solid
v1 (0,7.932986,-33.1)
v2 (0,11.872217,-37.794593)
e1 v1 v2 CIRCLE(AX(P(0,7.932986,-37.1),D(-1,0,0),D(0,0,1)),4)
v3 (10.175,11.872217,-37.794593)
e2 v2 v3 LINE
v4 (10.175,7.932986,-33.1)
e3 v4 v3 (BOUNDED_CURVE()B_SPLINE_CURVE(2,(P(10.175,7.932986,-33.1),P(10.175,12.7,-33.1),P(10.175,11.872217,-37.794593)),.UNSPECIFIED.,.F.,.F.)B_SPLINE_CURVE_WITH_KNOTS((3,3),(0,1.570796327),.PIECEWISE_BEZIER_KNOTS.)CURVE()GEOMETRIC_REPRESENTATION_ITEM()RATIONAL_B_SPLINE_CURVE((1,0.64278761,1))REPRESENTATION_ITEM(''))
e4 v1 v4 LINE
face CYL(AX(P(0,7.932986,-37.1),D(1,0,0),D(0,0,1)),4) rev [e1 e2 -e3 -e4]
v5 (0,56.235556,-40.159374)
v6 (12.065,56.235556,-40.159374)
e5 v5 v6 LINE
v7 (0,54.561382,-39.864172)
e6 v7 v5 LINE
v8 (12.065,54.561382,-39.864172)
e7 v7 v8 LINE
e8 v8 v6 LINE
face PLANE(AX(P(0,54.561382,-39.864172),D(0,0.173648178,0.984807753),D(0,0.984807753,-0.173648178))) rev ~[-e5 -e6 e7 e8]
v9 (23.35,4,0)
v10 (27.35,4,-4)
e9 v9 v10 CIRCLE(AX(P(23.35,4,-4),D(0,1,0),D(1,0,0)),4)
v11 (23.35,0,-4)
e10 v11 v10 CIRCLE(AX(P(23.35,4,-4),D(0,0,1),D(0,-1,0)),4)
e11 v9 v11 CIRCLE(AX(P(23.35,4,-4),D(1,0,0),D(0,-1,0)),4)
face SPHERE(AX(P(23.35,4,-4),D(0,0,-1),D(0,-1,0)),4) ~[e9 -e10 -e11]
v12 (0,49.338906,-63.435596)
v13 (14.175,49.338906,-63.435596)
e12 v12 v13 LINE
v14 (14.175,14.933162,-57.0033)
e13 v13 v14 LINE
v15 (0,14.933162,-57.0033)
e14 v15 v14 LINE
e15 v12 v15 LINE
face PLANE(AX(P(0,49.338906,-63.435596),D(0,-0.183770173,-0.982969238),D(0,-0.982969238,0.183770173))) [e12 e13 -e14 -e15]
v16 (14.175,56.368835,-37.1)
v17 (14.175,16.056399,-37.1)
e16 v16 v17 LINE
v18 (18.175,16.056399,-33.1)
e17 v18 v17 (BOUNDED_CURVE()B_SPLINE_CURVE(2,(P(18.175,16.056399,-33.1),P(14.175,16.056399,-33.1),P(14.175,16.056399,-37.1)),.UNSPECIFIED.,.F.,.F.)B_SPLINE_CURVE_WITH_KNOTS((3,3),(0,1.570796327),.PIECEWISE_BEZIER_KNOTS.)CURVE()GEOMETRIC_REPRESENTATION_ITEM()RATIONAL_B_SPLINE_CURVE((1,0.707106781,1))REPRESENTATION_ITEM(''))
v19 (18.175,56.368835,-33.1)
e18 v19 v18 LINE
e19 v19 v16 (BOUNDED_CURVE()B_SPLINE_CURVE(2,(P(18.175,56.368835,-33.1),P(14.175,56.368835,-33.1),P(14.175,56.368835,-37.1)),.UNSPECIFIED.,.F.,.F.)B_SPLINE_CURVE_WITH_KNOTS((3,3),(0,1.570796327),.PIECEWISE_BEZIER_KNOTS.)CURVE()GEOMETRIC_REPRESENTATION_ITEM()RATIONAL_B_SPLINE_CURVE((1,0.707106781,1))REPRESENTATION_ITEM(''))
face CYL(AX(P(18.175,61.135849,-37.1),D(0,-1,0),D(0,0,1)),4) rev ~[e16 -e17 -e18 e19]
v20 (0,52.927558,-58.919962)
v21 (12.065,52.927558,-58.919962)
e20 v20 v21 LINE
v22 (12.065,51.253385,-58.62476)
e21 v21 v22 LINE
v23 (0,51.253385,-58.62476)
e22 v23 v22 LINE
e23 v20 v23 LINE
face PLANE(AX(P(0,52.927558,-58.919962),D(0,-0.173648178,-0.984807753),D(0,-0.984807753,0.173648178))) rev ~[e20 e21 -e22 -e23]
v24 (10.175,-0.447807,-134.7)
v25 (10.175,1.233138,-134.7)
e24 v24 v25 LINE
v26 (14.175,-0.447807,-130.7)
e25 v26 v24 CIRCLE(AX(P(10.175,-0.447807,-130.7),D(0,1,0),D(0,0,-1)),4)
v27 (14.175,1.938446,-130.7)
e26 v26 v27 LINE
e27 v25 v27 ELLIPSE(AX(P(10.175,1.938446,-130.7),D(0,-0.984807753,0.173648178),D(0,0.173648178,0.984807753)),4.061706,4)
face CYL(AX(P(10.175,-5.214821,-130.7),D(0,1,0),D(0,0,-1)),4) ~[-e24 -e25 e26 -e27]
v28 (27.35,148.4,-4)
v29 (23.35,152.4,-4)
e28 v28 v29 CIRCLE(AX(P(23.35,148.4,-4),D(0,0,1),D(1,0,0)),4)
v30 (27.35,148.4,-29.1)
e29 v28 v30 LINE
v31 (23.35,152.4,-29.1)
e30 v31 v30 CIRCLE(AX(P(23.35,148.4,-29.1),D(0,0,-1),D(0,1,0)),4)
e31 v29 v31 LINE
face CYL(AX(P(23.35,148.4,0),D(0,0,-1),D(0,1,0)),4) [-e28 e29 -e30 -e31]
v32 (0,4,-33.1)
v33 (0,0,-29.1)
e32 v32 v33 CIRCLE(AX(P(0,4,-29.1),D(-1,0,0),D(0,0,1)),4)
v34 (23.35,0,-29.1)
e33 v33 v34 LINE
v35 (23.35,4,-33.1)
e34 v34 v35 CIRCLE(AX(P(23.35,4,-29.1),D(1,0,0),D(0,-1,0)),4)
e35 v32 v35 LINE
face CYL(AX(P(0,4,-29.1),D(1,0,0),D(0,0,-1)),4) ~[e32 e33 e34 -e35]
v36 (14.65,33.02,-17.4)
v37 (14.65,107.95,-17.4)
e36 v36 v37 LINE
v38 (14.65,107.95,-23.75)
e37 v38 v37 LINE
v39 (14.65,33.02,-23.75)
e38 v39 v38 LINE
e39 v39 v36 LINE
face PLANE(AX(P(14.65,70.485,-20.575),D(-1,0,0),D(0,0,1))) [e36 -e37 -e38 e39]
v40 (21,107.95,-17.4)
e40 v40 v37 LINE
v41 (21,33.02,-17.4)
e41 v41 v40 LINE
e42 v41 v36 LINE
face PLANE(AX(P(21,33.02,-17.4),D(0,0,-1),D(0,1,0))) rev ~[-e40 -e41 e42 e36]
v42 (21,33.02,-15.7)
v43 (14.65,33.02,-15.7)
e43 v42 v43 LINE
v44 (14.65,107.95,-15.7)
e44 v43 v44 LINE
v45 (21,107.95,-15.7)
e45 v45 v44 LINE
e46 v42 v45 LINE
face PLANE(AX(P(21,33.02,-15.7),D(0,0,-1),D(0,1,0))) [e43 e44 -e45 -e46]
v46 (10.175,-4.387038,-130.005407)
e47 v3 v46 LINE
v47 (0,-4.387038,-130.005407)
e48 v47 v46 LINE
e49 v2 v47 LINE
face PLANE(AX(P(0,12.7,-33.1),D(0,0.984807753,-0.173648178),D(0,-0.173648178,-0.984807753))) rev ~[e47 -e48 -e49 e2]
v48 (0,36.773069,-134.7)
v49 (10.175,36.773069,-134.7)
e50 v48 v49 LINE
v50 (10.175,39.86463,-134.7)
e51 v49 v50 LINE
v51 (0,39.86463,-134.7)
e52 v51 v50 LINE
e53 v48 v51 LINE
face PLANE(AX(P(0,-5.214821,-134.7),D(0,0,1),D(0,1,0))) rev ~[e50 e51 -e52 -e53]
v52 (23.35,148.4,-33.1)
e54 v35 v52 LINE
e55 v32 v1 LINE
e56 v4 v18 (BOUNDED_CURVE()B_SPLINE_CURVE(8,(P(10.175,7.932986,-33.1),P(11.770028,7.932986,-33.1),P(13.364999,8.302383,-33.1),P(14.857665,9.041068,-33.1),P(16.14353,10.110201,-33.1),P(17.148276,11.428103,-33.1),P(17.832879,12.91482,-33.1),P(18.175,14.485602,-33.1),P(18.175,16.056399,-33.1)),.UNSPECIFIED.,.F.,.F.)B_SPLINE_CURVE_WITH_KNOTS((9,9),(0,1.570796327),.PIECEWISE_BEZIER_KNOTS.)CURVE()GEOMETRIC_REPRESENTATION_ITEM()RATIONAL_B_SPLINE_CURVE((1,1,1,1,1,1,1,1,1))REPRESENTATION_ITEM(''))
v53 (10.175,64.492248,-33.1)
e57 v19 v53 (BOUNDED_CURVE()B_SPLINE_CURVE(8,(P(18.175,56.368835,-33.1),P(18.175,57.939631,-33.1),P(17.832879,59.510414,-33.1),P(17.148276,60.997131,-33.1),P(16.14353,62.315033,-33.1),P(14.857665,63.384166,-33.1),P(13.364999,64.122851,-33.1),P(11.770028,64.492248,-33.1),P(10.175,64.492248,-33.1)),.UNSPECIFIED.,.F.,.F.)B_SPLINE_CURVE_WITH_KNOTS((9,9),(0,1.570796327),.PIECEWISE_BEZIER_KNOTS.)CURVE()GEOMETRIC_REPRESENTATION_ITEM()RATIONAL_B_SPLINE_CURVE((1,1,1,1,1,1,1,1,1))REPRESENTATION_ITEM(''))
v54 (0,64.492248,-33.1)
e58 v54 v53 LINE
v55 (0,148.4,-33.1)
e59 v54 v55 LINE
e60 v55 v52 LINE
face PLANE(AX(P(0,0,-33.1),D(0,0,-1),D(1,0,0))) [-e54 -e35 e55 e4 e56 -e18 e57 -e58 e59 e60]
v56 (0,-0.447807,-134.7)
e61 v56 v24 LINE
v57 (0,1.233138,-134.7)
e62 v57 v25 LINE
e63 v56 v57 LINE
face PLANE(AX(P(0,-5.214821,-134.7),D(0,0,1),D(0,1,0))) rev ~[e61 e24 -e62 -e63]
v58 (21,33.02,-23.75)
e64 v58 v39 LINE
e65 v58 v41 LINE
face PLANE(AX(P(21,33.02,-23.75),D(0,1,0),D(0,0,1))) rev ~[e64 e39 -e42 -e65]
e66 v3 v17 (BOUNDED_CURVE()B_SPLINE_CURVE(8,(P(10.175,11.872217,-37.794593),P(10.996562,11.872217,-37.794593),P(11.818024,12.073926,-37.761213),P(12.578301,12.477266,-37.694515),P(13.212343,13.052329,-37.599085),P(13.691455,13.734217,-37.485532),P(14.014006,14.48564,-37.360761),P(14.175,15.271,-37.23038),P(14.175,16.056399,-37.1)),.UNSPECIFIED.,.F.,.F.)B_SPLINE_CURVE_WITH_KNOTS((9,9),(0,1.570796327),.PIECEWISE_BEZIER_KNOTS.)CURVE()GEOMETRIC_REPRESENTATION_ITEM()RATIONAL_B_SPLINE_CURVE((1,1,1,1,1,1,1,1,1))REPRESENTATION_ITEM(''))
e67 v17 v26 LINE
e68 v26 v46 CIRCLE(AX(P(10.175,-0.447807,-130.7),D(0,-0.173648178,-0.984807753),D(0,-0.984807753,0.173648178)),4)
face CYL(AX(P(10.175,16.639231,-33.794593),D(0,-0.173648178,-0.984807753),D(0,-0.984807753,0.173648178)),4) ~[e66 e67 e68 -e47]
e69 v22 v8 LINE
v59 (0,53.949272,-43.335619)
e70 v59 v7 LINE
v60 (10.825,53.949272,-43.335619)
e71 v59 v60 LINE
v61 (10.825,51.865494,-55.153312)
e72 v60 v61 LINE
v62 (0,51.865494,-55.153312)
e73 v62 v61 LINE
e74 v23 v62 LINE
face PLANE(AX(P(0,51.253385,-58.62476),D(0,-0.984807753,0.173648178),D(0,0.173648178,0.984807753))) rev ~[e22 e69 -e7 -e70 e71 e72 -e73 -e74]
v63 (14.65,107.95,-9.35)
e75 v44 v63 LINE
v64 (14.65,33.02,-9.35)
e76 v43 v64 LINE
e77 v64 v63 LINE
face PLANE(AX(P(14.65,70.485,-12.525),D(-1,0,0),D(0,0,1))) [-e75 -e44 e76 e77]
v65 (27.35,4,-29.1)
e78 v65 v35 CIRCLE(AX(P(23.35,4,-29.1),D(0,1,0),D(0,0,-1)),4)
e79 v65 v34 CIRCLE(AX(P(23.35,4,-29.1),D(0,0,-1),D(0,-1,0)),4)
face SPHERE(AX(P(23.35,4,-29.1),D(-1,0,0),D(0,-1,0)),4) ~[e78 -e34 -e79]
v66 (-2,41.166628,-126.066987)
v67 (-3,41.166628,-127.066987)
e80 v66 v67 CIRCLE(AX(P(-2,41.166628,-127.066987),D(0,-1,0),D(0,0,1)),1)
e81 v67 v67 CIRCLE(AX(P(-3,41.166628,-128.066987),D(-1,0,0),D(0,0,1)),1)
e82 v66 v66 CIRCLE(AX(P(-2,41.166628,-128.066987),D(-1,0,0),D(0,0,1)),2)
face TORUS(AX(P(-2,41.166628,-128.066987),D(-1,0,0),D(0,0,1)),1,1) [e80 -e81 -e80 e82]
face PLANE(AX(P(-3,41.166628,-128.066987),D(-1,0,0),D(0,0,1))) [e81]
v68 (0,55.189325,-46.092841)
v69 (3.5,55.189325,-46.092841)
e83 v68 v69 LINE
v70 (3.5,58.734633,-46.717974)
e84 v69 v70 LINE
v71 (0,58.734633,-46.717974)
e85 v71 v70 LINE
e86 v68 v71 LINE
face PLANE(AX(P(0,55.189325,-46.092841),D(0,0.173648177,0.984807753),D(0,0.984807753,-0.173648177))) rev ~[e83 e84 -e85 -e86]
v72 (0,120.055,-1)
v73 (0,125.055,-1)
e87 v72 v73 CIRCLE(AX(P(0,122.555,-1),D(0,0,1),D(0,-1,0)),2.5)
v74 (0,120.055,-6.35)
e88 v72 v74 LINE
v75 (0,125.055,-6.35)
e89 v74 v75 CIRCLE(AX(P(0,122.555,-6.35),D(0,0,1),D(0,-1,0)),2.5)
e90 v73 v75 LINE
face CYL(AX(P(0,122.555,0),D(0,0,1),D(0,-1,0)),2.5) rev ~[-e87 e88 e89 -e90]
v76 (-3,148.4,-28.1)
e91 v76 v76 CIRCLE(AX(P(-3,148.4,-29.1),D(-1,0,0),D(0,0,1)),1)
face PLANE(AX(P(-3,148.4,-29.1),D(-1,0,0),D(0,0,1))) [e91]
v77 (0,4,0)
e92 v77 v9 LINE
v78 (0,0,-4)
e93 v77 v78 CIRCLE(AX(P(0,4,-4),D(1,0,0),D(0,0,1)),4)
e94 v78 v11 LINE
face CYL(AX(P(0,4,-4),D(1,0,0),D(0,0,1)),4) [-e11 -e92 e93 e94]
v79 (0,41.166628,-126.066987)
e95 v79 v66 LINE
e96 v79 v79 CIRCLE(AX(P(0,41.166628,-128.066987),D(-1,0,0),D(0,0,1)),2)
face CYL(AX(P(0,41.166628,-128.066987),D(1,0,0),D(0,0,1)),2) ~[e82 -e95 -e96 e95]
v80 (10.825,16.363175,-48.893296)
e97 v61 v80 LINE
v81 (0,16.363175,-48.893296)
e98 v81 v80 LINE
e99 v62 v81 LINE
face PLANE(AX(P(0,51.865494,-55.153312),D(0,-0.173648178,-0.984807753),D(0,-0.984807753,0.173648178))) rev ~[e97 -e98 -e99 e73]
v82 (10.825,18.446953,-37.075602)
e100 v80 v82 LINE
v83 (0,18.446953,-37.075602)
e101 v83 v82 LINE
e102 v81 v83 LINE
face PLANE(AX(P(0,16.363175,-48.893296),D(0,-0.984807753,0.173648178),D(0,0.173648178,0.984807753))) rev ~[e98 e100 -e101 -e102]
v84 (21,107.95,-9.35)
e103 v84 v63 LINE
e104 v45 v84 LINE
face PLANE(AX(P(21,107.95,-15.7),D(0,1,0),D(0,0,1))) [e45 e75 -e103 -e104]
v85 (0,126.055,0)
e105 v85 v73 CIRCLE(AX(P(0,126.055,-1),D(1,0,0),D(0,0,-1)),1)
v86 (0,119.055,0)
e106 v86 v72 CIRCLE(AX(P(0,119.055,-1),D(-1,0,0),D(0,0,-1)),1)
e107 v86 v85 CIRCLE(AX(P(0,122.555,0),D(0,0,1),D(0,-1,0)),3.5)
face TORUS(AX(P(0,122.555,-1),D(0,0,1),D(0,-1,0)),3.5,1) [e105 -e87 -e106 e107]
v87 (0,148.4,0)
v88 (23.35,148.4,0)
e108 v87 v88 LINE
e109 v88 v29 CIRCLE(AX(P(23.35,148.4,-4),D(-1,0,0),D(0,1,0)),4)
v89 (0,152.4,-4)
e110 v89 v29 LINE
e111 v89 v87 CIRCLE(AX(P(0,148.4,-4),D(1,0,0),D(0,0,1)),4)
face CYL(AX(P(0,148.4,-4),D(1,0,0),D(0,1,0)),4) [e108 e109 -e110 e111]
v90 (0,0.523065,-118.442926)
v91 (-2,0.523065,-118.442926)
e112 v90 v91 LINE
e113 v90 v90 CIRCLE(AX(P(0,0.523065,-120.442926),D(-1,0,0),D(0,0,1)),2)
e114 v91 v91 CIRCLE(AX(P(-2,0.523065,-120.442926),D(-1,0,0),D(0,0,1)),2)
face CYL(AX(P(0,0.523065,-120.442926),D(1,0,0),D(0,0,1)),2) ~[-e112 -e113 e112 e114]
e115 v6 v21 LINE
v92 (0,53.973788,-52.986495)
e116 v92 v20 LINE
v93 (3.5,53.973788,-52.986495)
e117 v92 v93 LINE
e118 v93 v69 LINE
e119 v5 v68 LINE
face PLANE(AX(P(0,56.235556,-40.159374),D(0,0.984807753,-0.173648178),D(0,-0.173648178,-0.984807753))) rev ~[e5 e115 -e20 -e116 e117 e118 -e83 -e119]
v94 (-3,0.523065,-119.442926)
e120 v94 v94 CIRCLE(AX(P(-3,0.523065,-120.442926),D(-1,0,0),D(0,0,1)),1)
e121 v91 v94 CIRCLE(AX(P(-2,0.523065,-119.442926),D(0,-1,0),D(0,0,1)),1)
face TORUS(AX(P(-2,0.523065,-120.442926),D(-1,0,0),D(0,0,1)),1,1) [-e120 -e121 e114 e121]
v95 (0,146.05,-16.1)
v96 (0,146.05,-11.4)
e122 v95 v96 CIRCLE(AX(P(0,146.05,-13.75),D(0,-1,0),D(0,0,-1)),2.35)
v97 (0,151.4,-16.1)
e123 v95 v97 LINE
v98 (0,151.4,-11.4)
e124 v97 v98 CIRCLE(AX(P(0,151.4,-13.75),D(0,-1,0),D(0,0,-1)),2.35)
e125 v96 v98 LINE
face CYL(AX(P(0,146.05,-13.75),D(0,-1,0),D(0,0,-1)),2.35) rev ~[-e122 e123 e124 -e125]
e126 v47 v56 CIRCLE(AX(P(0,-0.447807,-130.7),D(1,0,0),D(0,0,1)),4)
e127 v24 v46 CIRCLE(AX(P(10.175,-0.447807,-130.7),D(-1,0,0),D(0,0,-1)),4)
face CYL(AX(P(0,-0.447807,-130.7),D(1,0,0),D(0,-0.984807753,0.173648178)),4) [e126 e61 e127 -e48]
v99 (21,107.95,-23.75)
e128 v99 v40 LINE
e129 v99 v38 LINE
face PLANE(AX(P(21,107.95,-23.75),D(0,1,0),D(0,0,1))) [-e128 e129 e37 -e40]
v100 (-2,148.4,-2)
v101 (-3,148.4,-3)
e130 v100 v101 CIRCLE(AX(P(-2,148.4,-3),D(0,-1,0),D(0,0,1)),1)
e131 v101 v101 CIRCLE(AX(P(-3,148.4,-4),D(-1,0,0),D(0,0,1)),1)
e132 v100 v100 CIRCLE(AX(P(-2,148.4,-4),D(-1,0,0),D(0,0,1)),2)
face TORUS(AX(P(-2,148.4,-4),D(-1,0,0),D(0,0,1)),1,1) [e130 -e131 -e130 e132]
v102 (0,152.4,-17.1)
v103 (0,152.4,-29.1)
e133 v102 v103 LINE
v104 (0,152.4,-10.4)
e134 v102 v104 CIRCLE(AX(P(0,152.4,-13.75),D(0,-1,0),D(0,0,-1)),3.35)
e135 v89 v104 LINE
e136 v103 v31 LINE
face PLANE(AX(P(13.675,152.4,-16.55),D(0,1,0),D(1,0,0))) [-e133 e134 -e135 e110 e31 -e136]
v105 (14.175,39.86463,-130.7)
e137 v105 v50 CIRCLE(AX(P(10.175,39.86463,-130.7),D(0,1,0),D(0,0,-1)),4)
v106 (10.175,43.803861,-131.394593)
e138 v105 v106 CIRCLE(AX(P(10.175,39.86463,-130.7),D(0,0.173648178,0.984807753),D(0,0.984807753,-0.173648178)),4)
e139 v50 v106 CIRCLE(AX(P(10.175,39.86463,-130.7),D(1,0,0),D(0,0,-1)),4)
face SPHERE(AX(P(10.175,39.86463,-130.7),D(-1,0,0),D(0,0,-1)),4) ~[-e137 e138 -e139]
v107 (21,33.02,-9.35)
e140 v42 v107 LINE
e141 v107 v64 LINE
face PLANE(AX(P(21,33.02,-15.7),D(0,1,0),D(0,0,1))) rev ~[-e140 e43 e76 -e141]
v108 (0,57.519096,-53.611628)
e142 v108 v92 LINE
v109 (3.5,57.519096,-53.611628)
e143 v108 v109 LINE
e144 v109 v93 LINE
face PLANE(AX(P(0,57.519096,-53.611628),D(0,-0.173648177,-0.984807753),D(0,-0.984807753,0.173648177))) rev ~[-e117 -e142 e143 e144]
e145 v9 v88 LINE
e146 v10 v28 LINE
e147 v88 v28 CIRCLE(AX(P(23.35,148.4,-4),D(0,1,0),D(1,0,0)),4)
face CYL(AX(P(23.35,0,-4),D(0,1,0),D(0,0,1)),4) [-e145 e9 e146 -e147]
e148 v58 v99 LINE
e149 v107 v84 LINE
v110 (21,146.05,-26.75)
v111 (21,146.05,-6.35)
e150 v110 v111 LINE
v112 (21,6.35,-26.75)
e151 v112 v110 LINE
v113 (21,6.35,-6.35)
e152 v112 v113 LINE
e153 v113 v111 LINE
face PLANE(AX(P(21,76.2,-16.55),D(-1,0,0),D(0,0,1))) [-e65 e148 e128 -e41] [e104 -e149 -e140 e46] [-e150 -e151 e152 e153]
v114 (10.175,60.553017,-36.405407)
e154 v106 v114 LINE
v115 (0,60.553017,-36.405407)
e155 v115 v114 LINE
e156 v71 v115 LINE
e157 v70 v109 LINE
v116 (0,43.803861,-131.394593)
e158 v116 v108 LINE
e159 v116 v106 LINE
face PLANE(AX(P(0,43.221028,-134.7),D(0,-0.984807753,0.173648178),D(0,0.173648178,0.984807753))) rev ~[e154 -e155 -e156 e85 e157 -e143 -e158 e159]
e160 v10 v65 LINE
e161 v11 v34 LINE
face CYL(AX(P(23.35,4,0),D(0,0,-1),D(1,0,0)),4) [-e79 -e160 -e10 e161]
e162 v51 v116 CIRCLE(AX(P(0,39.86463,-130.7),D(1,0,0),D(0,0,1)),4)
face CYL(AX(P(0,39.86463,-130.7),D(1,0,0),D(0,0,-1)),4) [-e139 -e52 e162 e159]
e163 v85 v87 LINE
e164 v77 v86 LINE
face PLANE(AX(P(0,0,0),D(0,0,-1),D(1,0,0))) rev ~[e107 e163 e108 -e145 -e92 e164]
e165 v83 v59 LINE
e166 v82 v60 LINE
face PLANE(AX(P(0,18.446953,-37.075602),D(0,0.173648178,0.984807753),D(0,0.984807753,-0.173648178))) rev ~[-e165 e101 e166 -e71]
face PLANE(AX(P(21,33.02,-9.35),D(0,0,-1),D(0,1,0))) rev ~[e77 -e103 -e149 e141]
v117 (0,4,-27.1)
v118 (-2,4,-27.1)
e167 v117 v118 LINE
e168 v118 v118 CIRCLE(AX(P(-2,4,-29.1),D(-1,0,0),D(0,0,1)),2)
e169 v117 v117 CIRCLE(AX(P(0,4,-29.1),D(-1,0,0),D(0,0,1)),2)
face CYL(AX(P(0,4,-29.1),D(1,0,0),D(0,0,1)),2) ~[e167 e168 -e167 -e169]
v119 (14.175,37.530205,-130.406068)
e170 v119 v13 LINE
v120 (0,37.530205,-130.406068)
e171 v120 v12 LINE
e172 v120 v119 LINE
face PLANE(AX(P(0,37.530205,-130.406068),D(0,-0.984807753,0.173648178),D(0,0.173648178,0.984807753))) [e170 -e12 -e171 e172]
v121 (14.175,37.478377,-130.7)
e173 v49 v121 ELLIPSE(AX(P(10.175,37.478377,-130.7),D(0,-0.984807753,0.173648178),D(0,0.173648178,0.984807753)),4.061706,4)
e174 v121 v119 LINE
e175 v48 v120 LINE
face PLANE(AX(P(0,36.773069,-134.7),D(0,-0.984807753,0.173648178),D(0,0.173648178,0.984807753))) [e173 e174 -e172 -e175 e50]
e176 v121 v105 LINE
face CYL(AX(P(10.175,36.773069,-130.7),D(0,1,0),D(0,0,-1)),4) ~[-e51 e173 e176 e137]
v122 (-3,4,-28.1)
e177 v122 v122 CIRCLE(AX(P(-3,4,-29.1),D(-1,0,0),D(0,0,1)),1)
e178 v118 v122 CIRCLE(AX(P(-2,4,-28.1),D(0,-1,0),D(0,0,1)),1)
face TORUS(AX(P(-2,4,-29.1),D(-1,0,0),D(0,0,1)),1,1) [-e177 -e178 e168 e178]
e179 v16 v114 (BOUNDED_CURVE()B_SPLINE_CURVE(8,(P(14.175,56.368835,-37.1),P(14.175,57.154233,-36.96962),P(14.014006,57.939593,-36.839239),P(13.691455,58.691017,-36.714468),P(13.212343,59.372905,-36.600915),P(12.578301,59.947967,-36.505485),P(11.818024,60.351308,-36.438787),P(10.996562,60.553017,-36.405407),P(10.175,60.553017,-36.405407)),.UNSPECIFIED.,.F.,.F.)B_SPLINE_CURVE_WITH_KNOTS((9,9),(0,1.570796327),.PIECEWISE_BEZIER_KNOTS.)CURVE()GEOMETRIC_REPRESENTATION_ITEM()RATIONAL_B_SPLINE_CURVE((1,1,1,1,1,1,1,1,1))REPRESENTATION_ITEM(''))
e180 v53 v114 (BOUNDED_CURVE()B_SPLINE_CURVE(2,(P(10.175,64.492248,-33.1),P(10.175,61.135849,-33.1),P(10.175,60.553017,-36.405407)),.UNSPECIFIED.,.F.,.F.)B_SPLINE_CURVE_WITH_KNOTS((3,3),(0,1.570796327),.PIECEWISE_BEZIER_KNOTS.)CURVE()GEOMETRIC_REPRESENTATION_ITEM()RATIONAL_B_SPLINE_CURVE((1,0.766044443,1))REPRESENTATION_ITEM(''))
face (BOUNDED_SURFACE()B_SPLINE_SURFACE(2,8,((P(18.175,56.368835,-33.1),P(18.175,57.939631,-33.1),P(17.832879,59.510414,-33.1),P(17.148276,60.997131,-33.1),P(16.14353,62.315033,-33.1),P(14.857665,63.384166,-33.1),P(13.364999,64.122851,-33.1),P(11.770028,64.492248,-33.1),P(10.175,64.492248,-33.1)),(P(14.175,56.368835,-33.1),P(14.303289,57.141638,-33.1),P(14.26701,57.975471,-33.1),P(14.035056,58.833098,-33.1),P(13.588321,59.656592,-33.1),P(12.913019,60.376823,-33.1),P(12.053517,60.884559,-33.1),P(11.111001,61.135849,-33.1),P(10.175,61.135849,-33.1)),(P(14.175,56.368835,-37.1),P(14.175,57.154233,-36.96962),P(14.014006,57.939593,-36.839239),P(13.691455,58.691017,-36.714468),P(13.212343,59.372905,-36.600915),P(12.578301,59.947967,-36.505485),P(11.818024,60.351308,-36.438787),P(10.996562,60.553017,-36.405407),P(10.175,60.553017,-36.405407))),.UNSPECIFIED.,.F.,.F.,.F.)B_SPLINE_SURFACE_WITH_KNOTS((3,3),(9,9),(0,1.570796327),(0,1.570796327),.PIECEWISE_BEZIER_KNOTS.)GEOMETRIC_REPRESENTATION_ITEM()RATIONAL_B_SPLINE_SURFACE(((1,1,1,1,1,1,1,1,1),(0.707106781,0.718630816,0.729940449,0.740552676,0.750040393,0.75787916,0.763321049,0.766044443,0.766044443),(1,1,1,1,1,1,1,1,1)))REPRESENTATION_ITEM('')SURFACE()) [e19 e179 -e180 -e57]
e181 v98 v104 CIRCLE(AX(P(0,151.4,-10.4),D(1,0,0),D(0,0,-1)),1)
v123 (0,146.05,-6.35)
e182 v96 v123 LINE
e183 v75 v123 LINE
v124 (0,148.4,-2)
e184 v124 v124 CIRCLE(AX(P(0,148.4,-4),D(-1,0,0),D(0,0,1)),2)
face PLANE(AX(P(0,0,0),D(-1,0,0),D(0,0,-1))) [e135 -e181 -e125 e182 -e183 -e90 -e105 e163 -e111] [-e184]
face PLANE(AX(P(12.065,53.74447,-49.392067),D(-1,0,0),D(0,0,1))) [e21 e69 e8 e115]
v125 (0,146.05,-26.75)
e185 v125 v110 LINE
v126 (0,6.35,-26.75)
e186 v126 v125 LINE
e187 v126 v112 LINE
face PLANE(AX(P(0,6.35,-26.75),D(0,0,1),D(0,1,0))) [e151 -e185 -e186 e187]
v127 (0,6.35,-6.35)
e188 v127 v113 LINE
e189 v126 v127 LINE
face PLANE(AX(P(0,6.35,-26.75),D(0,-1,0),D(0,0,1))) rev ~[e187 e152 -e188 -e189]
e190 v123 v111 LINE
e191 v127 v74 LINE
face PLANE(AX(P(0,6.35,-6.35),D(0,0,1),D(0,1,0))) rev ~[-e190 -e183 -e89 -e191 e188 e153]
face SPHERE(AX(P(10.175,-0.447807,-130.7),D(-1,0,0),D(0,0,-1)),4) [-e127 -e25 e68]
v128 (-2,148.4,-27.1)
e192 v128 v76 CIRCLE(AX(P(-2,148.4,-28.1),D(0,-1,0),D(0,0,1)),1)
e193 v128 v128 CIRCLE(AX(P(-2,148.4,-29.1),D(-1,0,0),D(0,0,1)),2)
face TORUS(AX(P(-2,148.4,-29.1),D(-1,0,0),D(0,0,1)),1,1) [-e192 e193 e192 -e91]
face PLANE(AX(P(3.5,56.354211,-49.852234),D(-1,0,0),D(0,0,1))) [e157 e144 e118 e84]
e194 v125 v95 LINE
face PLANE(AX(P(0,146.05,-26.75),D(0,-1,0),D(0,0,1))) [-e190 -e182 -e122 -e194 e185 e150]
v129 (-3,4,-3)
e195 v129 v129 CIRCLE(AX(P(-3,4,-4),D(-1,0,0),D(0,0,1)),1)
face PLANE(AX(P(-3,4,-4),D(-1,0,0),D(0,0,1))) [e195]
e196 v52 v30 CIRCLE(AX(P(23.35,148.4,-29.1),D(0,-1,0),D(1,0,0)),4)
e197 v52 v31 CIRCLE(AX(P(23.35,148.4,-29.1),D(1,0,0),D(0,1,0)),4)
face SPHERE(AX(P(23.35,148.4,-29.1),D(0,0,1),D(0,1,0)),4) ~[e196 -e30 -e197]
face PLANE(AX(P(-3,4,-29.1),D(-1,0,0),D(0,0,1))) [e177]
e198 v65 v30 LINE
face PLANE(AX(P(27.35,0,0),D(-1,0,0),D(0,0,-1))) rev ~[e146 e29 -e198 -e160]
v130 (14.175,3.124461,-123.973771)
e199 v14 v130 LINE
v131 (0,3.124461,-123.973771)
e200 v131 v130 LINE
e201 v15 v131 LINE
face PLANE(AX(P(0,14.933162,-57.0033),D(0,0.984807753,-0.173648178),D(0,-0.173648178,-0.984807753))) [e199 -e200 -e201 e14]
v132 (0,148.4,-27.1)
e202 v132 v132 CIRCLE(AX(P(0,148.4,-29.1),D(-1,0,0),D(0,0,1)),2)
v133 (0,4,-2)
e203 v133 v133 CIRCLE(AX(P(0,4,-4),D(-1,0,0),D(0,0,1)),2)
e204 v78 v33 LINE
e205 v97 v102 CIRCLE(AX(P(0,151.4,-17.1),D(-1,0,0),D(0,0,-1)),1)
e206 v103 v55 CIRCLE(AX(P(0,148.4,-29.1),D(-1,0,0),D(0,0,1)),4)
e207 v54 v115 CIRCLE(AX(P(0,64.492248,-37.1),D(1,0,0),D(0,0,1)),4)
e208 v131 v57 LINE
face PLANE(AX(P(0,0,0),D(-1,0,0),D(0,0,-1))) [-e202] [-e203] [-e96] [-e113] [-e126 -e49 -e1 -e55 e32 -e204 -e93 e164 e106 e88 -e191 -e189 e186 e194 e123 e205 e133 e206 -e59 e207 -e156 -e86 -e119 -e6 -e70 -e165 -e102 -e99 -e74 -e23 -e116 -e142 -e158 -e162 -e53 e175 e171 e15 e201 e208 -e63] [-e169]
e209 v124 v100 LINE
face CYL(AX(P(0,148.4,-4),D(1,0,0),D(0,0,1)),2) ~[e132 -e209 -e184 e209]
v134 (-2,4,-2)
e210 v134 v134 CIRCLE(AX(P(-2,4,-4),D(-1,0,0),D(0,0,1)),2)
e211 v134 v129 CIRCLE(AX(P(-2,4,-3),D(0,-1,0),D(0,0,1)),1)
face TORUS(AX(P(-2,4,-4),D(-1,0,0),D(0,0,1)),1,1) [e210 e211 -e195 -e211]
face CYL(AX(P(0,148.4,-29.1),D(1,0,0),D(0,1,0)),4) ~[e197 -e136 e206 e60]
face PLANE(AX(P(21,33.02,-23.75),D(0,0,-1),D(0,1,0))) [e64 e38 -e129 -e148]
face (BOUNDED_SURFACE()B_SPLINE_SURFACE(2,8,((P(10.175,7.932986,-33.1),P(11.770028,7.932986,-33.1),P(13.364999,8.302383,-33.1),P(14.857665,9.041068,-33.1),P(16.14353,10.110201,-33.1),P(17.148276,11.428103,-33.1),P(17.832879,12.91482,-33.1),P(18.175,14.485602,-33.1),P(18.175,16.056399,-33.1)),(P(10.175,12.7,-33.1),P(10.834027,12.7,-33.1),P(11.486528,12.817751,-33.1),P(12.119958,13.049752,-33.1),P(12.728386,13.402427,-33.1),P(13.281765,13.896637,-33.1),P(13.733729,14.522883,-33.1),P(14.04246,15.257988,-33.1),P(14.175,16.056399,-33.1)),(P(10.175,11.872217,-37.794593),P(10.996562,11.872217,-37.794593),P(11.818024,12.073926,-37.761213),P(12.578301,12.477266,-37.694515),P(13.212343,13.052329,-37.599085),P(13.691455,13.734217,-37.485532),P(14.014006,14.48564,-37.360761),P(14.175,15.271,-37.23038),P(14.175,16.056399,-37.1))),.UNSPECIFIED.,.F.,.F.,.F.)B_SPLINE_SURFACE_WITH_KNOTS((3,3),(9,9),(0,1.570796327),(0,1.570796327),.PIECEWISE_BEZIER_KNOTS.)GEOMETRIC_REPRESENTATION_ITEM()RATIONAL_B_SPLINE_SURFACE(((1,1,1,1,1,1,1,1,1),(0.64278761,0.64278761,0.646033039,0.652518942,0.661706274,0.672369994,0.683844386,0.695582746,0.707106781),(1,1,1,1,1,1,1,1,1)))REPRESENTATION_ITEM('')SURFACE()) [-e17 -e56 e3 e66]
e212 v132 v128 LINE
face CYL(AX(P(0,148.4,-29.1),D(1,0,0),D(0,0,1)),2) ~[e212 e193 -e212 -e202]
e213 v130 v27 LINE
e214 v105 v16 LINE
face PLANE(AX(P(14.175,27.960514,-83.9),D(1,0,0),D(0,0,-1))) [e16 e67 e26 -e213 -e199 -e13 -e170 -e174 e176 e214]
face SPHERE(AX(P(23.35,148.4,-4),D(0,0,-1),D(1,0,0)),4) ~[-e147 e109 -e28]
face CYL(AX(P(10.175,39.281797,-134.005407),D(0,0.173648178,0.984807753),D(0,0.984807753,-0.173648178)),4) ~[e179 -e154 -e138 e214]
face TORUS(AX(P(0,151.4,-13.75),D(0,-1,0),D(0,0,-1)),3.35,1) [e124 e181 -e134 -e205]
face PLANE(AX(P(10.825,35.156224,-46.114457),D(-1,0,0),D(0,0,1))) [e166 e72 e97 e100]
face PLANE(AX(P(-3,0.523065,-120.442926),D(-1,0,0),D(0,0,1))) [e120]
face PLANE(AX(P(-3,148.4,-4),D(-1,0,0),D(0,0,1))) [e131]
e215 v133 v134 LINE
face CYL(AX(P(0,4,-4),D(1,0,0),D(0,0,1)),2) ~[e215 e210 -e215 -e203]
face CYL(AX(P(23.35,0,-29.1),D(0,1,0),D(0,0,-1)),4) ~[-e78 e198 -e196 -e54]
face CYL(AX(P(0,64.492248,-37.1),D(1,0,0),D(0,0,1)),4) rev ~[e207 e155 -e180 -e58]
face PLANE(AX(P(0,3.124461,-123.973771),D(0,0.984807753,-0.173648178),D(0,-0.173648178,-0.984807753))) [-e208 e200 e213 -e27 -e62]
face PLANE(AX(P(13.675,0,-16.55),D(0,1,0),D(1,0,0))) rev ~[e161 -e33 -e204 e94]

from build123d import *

# Parameters (mm, degrees)
SKETCH1_W                = 27.35
SKETCH1_H                = 33.1
BOSS_EXTRUDE1_DEPTH      = 152.4
SKETCH2_W                = 20.4
SKETCH2_H                = 139.7
CUT_EXTRUDE1_DEPTH       = 21
HITLED_REACH             = 35.1
SKETCH6_W                = 6.35
SKETCH6_H                = 74.93
PCB_DEPTH                = 6.35
SKETCH16_R               = 2
PRESSFIT_DEPTH           = 3
FILLET_PRESSFIT_R        = 1
BUTT_DEPTH               = 14.175
BATTERYPACK_DEPTH        = 14.175
SKETCH22_R               = 2
PRESSFIT_BOTTOM_DEPTH    = 3
IRLED_REACH              = 8.35
FILLET_BODY_R            = 4
FILLET_PRESSFIT_BOTTOM_R = 1
FILLET_LED_S_R           = 1
CUT_EXTRUDE2_DEPTH       = 3.5
CUT_EXTRUDE3_DEPTH       = 12.065
CUT_EXTRUDE4_DEPTH       = 10.825


with BuildPart() as part:
    # Sketch1 → Boss-Extrude1 (new body)
    with BuildSketch(Plane(origin=(0, 0, 0), x_dir=(1, 0, 0), z_dir=(0, 1, 0))):
        with Locations((13.675, 16.55)):
            Rectangle(SKETCH1_W, SKETCH1_H)
    extrude(amount=BOSS_EXTRUDE1_DEPTH)

    # Sketch2 → Cut-Extrude1 (cut)
    with BuildSketch(Plane.ZY):
        with Locations((-16.55, 76.2)):
            Rectangle(SKETCH2_W, SKETCH2_H)
    extrude(amount=-CUT_EXTRUDE1_DEPTH, mode=Mode.SUBTRACT)

    # Sketch3 → HitLED (cut, up to next)
    with BuildSketch(Plane.XY, mode=Mode.PRIVATE) as hitled_sk1:
        with BuildLine():
            Line((0, 125.055), (0, 120.055))
            ThreePointArc((0, 120.055), (2.5, 122.555), (0, 125.055))
        make_face()
    hitled_tool1 = extrude(hitled_sk1.sketch, amount=-HITLED_REACH, mode=Mode.PRIVATE) & part.part
    add(hitled_tool1.solids().sort_by_distance((1.061033, 122.555, 0))[0], mode=Mode.SUBTRACT)

    # Sketch6 → PCB (add)
    with BuildSketch(Plane.ZY.offset(-21)):
        with Locations((-12.525, 70.485)):
            Rectangle(SKETCH6_W, SKETCH6_H)
        with Locations((-20.575, 70.485)):
            Rectangle(SKETCH6_W, SKETCH6_H)
    extrude(amount=PCB_DEPTH)

    # Sketch16 → PressFit (add)
    with BuildSketch(Plane.ZY):
        with Locations((-4, 148.4)):
            Circle(SKETCH16_R)
        with Locations((-4, 4)):
            Circle(SKETCH16_R)
        with Locations((-29.1, 148.4)):
            Circle(SKETCH16_R)
        with Locations((-29.1, 4)):
            Circle(SKETCH16_R)
    extrude(amount=PRESSFIT_DEPTH)

    # Fillet-PressFit
    fillet_pressfit_edges = [part.edges().sort_by_distance(p)[0] for p in [
        (-3, 148.4, -6),
        (-3, 4, -6),
        (-3, 148.4, -31.1),
        (-3, 4, -31.1),
    ]]
    fillet(fillet_pressfit_edges, radius=FILLET_PRESSFIT_R)

    # Sketch23 → Butt (add)
    with BuildSketch(Plane(origin=(0, 0, -25.4), x_dir=(0, 0, 1), z_dir=(-1, 0, 0))):
        Polygon((-7.7, 61.135849387), (-7.7, 12.7), (-109.3, -5.21482124), (-109.3, 43.221028147), align=None)
    extrude(amount=-BUTT_DEPTH)

    # Sketch20 → BatteryPack (cut)
    with BuildSketch(Plane.ZY):
        Polygon((-63.435596448, 49.338906272), (-57.003300004, 14.933162267), (-123.973771116, 3.124461299), (-134.7, 1.233137745), (-134.7, 36.773069161), (-130.40606756, 37.530205304), align=None)
    extrude(amount=-BATTERYPACK_DEPTH, mode=Mode.SUBTRACT)

    # Sketch22 → PressFit - Bottom (add)
    with BuildSketch(Plane.ZY):
        with Locations((-128.066987256, 41.166627764)):
            Circle(SKETCH22_R)
        with Locations((-120.442926047, 0.523065057)):
            Circle(SKETCH22_R)
    extrude(amount=PRESSFIT_BOTTOM_DEPTH)

    # Sketch25 → IRLED (cut, up to next)
    with BuildSketch(Plane.XZ.offset(-146.05), mode=Mode.PRIVATE) as irled_sk1:
        with BuildLine():
            Line((0, -11.4), (0, -16.1))
            ThreePointArc((0, -16.1), (2.35, -13.75), (0, -11.4))
        make_face()
    irled_tool1 = extrude(irled_sk1.sketch, amount=-IRLED_REACH, mode=Mode.PRIVATE) & part.part
    add(irled_tool1.solids().sort_by_distance((0.997371, 146.05, -13.75))[0], mode=Mode.SUBTRACT)

    # Fillet - Body
    fillet_body_edges = [part.edges().sort_by_distance(p)[0] for p in [
        (14.175, -1.990841747, -134.7),
        (27.35, 152.4, -16.55),
        (13.675, 152.4, -33.1),
        (13.675, 0, -33.1),
        (27.35, 0, -16.55),
        (13.675, 0, 0),
        (27.35, 76.2, -33.1),
        (27.35, 76.2, 0),
        (13.675, 152.4, 0),
        (14.175, 52.178438767, -83.9),
        (7.0875, 43.221028147, -134.7),
        (14.175, 36.917924693, -33.1),
        (7.0875, 61.135849387, -33.1),
        (14.175, 3.74258938, -83.9),
        (7.0875, 12.7, -33.1),
        (14.175, 39.997048654, -134.7),
        (7.0875, -5.21482124, -134.7),
    ]]
    fillet(fillet_body_edges, radius=FILLET_BODY_R)

    # Fillet-PressFit-Bottom
    fillet_pressfit_bottom_edges = [part.edges().sort_by_distance(p)[0] for p in [
        (-3, 41.166627764, -130.066987256),
        (-3, 0.523065057, -122.442926047),
    ]]
    fillet(fillet_pressfit_bottom_edges, radius=FILLET_PRESSFIT_BOTTOM_R)

    # Fillet-LED's
    fillet_led_s_edges = [part.edges().sort_by_distance(p)[0] for p in [
        (2.35, 152.4, -13.75),
        (2.5, 122.555, 0),
    ]]
    fillet(fillet_led_s_edges, radius=FILLET_LED_S_R)

    # Sketch26 → Cut-Extrude2 (cut)
    with BuildSketch(Plane.ZY):
        Polygon((-46.717974009, 58.734633147), (-53.61162828, 57.519095903), (-52.986494841, 53.973787992), (-46.09284057, 55.189325236), align=None)
    extrude(amount=-CUT_EXTRUDE2_DEPTH, mode=Mode.SUBTRACT)

    # Sketch27 → Cut-Extrude3 (cut)
    with BuildSketch(Plane.ZY):
        Polygon((-40.159373858, 56.235555506), (-58.919961553, 52.927557722), (-58.62475965, 51.253384541), (-39.864171956, 54.561382326), align=None)
    extrude(amount=-CUT_EXTRUDE3_DEPTH, mode=Mode.SUBTRACT)

    # Sketch28 → Cut-Extrude4 (cut)
    with BuildSketch(Plane.ZY):
        Polygon((-43.335619285, 53.9492725), (-55.153312321, 51.865494368), (-48.893295516, 16.363174872), (-37.07560248, 18.446953004), align=None)
    extrude(amount=-CUT_EXTRUDE4_DEPTH, mode=Mode.SUBTRACT)


solid = part.part
